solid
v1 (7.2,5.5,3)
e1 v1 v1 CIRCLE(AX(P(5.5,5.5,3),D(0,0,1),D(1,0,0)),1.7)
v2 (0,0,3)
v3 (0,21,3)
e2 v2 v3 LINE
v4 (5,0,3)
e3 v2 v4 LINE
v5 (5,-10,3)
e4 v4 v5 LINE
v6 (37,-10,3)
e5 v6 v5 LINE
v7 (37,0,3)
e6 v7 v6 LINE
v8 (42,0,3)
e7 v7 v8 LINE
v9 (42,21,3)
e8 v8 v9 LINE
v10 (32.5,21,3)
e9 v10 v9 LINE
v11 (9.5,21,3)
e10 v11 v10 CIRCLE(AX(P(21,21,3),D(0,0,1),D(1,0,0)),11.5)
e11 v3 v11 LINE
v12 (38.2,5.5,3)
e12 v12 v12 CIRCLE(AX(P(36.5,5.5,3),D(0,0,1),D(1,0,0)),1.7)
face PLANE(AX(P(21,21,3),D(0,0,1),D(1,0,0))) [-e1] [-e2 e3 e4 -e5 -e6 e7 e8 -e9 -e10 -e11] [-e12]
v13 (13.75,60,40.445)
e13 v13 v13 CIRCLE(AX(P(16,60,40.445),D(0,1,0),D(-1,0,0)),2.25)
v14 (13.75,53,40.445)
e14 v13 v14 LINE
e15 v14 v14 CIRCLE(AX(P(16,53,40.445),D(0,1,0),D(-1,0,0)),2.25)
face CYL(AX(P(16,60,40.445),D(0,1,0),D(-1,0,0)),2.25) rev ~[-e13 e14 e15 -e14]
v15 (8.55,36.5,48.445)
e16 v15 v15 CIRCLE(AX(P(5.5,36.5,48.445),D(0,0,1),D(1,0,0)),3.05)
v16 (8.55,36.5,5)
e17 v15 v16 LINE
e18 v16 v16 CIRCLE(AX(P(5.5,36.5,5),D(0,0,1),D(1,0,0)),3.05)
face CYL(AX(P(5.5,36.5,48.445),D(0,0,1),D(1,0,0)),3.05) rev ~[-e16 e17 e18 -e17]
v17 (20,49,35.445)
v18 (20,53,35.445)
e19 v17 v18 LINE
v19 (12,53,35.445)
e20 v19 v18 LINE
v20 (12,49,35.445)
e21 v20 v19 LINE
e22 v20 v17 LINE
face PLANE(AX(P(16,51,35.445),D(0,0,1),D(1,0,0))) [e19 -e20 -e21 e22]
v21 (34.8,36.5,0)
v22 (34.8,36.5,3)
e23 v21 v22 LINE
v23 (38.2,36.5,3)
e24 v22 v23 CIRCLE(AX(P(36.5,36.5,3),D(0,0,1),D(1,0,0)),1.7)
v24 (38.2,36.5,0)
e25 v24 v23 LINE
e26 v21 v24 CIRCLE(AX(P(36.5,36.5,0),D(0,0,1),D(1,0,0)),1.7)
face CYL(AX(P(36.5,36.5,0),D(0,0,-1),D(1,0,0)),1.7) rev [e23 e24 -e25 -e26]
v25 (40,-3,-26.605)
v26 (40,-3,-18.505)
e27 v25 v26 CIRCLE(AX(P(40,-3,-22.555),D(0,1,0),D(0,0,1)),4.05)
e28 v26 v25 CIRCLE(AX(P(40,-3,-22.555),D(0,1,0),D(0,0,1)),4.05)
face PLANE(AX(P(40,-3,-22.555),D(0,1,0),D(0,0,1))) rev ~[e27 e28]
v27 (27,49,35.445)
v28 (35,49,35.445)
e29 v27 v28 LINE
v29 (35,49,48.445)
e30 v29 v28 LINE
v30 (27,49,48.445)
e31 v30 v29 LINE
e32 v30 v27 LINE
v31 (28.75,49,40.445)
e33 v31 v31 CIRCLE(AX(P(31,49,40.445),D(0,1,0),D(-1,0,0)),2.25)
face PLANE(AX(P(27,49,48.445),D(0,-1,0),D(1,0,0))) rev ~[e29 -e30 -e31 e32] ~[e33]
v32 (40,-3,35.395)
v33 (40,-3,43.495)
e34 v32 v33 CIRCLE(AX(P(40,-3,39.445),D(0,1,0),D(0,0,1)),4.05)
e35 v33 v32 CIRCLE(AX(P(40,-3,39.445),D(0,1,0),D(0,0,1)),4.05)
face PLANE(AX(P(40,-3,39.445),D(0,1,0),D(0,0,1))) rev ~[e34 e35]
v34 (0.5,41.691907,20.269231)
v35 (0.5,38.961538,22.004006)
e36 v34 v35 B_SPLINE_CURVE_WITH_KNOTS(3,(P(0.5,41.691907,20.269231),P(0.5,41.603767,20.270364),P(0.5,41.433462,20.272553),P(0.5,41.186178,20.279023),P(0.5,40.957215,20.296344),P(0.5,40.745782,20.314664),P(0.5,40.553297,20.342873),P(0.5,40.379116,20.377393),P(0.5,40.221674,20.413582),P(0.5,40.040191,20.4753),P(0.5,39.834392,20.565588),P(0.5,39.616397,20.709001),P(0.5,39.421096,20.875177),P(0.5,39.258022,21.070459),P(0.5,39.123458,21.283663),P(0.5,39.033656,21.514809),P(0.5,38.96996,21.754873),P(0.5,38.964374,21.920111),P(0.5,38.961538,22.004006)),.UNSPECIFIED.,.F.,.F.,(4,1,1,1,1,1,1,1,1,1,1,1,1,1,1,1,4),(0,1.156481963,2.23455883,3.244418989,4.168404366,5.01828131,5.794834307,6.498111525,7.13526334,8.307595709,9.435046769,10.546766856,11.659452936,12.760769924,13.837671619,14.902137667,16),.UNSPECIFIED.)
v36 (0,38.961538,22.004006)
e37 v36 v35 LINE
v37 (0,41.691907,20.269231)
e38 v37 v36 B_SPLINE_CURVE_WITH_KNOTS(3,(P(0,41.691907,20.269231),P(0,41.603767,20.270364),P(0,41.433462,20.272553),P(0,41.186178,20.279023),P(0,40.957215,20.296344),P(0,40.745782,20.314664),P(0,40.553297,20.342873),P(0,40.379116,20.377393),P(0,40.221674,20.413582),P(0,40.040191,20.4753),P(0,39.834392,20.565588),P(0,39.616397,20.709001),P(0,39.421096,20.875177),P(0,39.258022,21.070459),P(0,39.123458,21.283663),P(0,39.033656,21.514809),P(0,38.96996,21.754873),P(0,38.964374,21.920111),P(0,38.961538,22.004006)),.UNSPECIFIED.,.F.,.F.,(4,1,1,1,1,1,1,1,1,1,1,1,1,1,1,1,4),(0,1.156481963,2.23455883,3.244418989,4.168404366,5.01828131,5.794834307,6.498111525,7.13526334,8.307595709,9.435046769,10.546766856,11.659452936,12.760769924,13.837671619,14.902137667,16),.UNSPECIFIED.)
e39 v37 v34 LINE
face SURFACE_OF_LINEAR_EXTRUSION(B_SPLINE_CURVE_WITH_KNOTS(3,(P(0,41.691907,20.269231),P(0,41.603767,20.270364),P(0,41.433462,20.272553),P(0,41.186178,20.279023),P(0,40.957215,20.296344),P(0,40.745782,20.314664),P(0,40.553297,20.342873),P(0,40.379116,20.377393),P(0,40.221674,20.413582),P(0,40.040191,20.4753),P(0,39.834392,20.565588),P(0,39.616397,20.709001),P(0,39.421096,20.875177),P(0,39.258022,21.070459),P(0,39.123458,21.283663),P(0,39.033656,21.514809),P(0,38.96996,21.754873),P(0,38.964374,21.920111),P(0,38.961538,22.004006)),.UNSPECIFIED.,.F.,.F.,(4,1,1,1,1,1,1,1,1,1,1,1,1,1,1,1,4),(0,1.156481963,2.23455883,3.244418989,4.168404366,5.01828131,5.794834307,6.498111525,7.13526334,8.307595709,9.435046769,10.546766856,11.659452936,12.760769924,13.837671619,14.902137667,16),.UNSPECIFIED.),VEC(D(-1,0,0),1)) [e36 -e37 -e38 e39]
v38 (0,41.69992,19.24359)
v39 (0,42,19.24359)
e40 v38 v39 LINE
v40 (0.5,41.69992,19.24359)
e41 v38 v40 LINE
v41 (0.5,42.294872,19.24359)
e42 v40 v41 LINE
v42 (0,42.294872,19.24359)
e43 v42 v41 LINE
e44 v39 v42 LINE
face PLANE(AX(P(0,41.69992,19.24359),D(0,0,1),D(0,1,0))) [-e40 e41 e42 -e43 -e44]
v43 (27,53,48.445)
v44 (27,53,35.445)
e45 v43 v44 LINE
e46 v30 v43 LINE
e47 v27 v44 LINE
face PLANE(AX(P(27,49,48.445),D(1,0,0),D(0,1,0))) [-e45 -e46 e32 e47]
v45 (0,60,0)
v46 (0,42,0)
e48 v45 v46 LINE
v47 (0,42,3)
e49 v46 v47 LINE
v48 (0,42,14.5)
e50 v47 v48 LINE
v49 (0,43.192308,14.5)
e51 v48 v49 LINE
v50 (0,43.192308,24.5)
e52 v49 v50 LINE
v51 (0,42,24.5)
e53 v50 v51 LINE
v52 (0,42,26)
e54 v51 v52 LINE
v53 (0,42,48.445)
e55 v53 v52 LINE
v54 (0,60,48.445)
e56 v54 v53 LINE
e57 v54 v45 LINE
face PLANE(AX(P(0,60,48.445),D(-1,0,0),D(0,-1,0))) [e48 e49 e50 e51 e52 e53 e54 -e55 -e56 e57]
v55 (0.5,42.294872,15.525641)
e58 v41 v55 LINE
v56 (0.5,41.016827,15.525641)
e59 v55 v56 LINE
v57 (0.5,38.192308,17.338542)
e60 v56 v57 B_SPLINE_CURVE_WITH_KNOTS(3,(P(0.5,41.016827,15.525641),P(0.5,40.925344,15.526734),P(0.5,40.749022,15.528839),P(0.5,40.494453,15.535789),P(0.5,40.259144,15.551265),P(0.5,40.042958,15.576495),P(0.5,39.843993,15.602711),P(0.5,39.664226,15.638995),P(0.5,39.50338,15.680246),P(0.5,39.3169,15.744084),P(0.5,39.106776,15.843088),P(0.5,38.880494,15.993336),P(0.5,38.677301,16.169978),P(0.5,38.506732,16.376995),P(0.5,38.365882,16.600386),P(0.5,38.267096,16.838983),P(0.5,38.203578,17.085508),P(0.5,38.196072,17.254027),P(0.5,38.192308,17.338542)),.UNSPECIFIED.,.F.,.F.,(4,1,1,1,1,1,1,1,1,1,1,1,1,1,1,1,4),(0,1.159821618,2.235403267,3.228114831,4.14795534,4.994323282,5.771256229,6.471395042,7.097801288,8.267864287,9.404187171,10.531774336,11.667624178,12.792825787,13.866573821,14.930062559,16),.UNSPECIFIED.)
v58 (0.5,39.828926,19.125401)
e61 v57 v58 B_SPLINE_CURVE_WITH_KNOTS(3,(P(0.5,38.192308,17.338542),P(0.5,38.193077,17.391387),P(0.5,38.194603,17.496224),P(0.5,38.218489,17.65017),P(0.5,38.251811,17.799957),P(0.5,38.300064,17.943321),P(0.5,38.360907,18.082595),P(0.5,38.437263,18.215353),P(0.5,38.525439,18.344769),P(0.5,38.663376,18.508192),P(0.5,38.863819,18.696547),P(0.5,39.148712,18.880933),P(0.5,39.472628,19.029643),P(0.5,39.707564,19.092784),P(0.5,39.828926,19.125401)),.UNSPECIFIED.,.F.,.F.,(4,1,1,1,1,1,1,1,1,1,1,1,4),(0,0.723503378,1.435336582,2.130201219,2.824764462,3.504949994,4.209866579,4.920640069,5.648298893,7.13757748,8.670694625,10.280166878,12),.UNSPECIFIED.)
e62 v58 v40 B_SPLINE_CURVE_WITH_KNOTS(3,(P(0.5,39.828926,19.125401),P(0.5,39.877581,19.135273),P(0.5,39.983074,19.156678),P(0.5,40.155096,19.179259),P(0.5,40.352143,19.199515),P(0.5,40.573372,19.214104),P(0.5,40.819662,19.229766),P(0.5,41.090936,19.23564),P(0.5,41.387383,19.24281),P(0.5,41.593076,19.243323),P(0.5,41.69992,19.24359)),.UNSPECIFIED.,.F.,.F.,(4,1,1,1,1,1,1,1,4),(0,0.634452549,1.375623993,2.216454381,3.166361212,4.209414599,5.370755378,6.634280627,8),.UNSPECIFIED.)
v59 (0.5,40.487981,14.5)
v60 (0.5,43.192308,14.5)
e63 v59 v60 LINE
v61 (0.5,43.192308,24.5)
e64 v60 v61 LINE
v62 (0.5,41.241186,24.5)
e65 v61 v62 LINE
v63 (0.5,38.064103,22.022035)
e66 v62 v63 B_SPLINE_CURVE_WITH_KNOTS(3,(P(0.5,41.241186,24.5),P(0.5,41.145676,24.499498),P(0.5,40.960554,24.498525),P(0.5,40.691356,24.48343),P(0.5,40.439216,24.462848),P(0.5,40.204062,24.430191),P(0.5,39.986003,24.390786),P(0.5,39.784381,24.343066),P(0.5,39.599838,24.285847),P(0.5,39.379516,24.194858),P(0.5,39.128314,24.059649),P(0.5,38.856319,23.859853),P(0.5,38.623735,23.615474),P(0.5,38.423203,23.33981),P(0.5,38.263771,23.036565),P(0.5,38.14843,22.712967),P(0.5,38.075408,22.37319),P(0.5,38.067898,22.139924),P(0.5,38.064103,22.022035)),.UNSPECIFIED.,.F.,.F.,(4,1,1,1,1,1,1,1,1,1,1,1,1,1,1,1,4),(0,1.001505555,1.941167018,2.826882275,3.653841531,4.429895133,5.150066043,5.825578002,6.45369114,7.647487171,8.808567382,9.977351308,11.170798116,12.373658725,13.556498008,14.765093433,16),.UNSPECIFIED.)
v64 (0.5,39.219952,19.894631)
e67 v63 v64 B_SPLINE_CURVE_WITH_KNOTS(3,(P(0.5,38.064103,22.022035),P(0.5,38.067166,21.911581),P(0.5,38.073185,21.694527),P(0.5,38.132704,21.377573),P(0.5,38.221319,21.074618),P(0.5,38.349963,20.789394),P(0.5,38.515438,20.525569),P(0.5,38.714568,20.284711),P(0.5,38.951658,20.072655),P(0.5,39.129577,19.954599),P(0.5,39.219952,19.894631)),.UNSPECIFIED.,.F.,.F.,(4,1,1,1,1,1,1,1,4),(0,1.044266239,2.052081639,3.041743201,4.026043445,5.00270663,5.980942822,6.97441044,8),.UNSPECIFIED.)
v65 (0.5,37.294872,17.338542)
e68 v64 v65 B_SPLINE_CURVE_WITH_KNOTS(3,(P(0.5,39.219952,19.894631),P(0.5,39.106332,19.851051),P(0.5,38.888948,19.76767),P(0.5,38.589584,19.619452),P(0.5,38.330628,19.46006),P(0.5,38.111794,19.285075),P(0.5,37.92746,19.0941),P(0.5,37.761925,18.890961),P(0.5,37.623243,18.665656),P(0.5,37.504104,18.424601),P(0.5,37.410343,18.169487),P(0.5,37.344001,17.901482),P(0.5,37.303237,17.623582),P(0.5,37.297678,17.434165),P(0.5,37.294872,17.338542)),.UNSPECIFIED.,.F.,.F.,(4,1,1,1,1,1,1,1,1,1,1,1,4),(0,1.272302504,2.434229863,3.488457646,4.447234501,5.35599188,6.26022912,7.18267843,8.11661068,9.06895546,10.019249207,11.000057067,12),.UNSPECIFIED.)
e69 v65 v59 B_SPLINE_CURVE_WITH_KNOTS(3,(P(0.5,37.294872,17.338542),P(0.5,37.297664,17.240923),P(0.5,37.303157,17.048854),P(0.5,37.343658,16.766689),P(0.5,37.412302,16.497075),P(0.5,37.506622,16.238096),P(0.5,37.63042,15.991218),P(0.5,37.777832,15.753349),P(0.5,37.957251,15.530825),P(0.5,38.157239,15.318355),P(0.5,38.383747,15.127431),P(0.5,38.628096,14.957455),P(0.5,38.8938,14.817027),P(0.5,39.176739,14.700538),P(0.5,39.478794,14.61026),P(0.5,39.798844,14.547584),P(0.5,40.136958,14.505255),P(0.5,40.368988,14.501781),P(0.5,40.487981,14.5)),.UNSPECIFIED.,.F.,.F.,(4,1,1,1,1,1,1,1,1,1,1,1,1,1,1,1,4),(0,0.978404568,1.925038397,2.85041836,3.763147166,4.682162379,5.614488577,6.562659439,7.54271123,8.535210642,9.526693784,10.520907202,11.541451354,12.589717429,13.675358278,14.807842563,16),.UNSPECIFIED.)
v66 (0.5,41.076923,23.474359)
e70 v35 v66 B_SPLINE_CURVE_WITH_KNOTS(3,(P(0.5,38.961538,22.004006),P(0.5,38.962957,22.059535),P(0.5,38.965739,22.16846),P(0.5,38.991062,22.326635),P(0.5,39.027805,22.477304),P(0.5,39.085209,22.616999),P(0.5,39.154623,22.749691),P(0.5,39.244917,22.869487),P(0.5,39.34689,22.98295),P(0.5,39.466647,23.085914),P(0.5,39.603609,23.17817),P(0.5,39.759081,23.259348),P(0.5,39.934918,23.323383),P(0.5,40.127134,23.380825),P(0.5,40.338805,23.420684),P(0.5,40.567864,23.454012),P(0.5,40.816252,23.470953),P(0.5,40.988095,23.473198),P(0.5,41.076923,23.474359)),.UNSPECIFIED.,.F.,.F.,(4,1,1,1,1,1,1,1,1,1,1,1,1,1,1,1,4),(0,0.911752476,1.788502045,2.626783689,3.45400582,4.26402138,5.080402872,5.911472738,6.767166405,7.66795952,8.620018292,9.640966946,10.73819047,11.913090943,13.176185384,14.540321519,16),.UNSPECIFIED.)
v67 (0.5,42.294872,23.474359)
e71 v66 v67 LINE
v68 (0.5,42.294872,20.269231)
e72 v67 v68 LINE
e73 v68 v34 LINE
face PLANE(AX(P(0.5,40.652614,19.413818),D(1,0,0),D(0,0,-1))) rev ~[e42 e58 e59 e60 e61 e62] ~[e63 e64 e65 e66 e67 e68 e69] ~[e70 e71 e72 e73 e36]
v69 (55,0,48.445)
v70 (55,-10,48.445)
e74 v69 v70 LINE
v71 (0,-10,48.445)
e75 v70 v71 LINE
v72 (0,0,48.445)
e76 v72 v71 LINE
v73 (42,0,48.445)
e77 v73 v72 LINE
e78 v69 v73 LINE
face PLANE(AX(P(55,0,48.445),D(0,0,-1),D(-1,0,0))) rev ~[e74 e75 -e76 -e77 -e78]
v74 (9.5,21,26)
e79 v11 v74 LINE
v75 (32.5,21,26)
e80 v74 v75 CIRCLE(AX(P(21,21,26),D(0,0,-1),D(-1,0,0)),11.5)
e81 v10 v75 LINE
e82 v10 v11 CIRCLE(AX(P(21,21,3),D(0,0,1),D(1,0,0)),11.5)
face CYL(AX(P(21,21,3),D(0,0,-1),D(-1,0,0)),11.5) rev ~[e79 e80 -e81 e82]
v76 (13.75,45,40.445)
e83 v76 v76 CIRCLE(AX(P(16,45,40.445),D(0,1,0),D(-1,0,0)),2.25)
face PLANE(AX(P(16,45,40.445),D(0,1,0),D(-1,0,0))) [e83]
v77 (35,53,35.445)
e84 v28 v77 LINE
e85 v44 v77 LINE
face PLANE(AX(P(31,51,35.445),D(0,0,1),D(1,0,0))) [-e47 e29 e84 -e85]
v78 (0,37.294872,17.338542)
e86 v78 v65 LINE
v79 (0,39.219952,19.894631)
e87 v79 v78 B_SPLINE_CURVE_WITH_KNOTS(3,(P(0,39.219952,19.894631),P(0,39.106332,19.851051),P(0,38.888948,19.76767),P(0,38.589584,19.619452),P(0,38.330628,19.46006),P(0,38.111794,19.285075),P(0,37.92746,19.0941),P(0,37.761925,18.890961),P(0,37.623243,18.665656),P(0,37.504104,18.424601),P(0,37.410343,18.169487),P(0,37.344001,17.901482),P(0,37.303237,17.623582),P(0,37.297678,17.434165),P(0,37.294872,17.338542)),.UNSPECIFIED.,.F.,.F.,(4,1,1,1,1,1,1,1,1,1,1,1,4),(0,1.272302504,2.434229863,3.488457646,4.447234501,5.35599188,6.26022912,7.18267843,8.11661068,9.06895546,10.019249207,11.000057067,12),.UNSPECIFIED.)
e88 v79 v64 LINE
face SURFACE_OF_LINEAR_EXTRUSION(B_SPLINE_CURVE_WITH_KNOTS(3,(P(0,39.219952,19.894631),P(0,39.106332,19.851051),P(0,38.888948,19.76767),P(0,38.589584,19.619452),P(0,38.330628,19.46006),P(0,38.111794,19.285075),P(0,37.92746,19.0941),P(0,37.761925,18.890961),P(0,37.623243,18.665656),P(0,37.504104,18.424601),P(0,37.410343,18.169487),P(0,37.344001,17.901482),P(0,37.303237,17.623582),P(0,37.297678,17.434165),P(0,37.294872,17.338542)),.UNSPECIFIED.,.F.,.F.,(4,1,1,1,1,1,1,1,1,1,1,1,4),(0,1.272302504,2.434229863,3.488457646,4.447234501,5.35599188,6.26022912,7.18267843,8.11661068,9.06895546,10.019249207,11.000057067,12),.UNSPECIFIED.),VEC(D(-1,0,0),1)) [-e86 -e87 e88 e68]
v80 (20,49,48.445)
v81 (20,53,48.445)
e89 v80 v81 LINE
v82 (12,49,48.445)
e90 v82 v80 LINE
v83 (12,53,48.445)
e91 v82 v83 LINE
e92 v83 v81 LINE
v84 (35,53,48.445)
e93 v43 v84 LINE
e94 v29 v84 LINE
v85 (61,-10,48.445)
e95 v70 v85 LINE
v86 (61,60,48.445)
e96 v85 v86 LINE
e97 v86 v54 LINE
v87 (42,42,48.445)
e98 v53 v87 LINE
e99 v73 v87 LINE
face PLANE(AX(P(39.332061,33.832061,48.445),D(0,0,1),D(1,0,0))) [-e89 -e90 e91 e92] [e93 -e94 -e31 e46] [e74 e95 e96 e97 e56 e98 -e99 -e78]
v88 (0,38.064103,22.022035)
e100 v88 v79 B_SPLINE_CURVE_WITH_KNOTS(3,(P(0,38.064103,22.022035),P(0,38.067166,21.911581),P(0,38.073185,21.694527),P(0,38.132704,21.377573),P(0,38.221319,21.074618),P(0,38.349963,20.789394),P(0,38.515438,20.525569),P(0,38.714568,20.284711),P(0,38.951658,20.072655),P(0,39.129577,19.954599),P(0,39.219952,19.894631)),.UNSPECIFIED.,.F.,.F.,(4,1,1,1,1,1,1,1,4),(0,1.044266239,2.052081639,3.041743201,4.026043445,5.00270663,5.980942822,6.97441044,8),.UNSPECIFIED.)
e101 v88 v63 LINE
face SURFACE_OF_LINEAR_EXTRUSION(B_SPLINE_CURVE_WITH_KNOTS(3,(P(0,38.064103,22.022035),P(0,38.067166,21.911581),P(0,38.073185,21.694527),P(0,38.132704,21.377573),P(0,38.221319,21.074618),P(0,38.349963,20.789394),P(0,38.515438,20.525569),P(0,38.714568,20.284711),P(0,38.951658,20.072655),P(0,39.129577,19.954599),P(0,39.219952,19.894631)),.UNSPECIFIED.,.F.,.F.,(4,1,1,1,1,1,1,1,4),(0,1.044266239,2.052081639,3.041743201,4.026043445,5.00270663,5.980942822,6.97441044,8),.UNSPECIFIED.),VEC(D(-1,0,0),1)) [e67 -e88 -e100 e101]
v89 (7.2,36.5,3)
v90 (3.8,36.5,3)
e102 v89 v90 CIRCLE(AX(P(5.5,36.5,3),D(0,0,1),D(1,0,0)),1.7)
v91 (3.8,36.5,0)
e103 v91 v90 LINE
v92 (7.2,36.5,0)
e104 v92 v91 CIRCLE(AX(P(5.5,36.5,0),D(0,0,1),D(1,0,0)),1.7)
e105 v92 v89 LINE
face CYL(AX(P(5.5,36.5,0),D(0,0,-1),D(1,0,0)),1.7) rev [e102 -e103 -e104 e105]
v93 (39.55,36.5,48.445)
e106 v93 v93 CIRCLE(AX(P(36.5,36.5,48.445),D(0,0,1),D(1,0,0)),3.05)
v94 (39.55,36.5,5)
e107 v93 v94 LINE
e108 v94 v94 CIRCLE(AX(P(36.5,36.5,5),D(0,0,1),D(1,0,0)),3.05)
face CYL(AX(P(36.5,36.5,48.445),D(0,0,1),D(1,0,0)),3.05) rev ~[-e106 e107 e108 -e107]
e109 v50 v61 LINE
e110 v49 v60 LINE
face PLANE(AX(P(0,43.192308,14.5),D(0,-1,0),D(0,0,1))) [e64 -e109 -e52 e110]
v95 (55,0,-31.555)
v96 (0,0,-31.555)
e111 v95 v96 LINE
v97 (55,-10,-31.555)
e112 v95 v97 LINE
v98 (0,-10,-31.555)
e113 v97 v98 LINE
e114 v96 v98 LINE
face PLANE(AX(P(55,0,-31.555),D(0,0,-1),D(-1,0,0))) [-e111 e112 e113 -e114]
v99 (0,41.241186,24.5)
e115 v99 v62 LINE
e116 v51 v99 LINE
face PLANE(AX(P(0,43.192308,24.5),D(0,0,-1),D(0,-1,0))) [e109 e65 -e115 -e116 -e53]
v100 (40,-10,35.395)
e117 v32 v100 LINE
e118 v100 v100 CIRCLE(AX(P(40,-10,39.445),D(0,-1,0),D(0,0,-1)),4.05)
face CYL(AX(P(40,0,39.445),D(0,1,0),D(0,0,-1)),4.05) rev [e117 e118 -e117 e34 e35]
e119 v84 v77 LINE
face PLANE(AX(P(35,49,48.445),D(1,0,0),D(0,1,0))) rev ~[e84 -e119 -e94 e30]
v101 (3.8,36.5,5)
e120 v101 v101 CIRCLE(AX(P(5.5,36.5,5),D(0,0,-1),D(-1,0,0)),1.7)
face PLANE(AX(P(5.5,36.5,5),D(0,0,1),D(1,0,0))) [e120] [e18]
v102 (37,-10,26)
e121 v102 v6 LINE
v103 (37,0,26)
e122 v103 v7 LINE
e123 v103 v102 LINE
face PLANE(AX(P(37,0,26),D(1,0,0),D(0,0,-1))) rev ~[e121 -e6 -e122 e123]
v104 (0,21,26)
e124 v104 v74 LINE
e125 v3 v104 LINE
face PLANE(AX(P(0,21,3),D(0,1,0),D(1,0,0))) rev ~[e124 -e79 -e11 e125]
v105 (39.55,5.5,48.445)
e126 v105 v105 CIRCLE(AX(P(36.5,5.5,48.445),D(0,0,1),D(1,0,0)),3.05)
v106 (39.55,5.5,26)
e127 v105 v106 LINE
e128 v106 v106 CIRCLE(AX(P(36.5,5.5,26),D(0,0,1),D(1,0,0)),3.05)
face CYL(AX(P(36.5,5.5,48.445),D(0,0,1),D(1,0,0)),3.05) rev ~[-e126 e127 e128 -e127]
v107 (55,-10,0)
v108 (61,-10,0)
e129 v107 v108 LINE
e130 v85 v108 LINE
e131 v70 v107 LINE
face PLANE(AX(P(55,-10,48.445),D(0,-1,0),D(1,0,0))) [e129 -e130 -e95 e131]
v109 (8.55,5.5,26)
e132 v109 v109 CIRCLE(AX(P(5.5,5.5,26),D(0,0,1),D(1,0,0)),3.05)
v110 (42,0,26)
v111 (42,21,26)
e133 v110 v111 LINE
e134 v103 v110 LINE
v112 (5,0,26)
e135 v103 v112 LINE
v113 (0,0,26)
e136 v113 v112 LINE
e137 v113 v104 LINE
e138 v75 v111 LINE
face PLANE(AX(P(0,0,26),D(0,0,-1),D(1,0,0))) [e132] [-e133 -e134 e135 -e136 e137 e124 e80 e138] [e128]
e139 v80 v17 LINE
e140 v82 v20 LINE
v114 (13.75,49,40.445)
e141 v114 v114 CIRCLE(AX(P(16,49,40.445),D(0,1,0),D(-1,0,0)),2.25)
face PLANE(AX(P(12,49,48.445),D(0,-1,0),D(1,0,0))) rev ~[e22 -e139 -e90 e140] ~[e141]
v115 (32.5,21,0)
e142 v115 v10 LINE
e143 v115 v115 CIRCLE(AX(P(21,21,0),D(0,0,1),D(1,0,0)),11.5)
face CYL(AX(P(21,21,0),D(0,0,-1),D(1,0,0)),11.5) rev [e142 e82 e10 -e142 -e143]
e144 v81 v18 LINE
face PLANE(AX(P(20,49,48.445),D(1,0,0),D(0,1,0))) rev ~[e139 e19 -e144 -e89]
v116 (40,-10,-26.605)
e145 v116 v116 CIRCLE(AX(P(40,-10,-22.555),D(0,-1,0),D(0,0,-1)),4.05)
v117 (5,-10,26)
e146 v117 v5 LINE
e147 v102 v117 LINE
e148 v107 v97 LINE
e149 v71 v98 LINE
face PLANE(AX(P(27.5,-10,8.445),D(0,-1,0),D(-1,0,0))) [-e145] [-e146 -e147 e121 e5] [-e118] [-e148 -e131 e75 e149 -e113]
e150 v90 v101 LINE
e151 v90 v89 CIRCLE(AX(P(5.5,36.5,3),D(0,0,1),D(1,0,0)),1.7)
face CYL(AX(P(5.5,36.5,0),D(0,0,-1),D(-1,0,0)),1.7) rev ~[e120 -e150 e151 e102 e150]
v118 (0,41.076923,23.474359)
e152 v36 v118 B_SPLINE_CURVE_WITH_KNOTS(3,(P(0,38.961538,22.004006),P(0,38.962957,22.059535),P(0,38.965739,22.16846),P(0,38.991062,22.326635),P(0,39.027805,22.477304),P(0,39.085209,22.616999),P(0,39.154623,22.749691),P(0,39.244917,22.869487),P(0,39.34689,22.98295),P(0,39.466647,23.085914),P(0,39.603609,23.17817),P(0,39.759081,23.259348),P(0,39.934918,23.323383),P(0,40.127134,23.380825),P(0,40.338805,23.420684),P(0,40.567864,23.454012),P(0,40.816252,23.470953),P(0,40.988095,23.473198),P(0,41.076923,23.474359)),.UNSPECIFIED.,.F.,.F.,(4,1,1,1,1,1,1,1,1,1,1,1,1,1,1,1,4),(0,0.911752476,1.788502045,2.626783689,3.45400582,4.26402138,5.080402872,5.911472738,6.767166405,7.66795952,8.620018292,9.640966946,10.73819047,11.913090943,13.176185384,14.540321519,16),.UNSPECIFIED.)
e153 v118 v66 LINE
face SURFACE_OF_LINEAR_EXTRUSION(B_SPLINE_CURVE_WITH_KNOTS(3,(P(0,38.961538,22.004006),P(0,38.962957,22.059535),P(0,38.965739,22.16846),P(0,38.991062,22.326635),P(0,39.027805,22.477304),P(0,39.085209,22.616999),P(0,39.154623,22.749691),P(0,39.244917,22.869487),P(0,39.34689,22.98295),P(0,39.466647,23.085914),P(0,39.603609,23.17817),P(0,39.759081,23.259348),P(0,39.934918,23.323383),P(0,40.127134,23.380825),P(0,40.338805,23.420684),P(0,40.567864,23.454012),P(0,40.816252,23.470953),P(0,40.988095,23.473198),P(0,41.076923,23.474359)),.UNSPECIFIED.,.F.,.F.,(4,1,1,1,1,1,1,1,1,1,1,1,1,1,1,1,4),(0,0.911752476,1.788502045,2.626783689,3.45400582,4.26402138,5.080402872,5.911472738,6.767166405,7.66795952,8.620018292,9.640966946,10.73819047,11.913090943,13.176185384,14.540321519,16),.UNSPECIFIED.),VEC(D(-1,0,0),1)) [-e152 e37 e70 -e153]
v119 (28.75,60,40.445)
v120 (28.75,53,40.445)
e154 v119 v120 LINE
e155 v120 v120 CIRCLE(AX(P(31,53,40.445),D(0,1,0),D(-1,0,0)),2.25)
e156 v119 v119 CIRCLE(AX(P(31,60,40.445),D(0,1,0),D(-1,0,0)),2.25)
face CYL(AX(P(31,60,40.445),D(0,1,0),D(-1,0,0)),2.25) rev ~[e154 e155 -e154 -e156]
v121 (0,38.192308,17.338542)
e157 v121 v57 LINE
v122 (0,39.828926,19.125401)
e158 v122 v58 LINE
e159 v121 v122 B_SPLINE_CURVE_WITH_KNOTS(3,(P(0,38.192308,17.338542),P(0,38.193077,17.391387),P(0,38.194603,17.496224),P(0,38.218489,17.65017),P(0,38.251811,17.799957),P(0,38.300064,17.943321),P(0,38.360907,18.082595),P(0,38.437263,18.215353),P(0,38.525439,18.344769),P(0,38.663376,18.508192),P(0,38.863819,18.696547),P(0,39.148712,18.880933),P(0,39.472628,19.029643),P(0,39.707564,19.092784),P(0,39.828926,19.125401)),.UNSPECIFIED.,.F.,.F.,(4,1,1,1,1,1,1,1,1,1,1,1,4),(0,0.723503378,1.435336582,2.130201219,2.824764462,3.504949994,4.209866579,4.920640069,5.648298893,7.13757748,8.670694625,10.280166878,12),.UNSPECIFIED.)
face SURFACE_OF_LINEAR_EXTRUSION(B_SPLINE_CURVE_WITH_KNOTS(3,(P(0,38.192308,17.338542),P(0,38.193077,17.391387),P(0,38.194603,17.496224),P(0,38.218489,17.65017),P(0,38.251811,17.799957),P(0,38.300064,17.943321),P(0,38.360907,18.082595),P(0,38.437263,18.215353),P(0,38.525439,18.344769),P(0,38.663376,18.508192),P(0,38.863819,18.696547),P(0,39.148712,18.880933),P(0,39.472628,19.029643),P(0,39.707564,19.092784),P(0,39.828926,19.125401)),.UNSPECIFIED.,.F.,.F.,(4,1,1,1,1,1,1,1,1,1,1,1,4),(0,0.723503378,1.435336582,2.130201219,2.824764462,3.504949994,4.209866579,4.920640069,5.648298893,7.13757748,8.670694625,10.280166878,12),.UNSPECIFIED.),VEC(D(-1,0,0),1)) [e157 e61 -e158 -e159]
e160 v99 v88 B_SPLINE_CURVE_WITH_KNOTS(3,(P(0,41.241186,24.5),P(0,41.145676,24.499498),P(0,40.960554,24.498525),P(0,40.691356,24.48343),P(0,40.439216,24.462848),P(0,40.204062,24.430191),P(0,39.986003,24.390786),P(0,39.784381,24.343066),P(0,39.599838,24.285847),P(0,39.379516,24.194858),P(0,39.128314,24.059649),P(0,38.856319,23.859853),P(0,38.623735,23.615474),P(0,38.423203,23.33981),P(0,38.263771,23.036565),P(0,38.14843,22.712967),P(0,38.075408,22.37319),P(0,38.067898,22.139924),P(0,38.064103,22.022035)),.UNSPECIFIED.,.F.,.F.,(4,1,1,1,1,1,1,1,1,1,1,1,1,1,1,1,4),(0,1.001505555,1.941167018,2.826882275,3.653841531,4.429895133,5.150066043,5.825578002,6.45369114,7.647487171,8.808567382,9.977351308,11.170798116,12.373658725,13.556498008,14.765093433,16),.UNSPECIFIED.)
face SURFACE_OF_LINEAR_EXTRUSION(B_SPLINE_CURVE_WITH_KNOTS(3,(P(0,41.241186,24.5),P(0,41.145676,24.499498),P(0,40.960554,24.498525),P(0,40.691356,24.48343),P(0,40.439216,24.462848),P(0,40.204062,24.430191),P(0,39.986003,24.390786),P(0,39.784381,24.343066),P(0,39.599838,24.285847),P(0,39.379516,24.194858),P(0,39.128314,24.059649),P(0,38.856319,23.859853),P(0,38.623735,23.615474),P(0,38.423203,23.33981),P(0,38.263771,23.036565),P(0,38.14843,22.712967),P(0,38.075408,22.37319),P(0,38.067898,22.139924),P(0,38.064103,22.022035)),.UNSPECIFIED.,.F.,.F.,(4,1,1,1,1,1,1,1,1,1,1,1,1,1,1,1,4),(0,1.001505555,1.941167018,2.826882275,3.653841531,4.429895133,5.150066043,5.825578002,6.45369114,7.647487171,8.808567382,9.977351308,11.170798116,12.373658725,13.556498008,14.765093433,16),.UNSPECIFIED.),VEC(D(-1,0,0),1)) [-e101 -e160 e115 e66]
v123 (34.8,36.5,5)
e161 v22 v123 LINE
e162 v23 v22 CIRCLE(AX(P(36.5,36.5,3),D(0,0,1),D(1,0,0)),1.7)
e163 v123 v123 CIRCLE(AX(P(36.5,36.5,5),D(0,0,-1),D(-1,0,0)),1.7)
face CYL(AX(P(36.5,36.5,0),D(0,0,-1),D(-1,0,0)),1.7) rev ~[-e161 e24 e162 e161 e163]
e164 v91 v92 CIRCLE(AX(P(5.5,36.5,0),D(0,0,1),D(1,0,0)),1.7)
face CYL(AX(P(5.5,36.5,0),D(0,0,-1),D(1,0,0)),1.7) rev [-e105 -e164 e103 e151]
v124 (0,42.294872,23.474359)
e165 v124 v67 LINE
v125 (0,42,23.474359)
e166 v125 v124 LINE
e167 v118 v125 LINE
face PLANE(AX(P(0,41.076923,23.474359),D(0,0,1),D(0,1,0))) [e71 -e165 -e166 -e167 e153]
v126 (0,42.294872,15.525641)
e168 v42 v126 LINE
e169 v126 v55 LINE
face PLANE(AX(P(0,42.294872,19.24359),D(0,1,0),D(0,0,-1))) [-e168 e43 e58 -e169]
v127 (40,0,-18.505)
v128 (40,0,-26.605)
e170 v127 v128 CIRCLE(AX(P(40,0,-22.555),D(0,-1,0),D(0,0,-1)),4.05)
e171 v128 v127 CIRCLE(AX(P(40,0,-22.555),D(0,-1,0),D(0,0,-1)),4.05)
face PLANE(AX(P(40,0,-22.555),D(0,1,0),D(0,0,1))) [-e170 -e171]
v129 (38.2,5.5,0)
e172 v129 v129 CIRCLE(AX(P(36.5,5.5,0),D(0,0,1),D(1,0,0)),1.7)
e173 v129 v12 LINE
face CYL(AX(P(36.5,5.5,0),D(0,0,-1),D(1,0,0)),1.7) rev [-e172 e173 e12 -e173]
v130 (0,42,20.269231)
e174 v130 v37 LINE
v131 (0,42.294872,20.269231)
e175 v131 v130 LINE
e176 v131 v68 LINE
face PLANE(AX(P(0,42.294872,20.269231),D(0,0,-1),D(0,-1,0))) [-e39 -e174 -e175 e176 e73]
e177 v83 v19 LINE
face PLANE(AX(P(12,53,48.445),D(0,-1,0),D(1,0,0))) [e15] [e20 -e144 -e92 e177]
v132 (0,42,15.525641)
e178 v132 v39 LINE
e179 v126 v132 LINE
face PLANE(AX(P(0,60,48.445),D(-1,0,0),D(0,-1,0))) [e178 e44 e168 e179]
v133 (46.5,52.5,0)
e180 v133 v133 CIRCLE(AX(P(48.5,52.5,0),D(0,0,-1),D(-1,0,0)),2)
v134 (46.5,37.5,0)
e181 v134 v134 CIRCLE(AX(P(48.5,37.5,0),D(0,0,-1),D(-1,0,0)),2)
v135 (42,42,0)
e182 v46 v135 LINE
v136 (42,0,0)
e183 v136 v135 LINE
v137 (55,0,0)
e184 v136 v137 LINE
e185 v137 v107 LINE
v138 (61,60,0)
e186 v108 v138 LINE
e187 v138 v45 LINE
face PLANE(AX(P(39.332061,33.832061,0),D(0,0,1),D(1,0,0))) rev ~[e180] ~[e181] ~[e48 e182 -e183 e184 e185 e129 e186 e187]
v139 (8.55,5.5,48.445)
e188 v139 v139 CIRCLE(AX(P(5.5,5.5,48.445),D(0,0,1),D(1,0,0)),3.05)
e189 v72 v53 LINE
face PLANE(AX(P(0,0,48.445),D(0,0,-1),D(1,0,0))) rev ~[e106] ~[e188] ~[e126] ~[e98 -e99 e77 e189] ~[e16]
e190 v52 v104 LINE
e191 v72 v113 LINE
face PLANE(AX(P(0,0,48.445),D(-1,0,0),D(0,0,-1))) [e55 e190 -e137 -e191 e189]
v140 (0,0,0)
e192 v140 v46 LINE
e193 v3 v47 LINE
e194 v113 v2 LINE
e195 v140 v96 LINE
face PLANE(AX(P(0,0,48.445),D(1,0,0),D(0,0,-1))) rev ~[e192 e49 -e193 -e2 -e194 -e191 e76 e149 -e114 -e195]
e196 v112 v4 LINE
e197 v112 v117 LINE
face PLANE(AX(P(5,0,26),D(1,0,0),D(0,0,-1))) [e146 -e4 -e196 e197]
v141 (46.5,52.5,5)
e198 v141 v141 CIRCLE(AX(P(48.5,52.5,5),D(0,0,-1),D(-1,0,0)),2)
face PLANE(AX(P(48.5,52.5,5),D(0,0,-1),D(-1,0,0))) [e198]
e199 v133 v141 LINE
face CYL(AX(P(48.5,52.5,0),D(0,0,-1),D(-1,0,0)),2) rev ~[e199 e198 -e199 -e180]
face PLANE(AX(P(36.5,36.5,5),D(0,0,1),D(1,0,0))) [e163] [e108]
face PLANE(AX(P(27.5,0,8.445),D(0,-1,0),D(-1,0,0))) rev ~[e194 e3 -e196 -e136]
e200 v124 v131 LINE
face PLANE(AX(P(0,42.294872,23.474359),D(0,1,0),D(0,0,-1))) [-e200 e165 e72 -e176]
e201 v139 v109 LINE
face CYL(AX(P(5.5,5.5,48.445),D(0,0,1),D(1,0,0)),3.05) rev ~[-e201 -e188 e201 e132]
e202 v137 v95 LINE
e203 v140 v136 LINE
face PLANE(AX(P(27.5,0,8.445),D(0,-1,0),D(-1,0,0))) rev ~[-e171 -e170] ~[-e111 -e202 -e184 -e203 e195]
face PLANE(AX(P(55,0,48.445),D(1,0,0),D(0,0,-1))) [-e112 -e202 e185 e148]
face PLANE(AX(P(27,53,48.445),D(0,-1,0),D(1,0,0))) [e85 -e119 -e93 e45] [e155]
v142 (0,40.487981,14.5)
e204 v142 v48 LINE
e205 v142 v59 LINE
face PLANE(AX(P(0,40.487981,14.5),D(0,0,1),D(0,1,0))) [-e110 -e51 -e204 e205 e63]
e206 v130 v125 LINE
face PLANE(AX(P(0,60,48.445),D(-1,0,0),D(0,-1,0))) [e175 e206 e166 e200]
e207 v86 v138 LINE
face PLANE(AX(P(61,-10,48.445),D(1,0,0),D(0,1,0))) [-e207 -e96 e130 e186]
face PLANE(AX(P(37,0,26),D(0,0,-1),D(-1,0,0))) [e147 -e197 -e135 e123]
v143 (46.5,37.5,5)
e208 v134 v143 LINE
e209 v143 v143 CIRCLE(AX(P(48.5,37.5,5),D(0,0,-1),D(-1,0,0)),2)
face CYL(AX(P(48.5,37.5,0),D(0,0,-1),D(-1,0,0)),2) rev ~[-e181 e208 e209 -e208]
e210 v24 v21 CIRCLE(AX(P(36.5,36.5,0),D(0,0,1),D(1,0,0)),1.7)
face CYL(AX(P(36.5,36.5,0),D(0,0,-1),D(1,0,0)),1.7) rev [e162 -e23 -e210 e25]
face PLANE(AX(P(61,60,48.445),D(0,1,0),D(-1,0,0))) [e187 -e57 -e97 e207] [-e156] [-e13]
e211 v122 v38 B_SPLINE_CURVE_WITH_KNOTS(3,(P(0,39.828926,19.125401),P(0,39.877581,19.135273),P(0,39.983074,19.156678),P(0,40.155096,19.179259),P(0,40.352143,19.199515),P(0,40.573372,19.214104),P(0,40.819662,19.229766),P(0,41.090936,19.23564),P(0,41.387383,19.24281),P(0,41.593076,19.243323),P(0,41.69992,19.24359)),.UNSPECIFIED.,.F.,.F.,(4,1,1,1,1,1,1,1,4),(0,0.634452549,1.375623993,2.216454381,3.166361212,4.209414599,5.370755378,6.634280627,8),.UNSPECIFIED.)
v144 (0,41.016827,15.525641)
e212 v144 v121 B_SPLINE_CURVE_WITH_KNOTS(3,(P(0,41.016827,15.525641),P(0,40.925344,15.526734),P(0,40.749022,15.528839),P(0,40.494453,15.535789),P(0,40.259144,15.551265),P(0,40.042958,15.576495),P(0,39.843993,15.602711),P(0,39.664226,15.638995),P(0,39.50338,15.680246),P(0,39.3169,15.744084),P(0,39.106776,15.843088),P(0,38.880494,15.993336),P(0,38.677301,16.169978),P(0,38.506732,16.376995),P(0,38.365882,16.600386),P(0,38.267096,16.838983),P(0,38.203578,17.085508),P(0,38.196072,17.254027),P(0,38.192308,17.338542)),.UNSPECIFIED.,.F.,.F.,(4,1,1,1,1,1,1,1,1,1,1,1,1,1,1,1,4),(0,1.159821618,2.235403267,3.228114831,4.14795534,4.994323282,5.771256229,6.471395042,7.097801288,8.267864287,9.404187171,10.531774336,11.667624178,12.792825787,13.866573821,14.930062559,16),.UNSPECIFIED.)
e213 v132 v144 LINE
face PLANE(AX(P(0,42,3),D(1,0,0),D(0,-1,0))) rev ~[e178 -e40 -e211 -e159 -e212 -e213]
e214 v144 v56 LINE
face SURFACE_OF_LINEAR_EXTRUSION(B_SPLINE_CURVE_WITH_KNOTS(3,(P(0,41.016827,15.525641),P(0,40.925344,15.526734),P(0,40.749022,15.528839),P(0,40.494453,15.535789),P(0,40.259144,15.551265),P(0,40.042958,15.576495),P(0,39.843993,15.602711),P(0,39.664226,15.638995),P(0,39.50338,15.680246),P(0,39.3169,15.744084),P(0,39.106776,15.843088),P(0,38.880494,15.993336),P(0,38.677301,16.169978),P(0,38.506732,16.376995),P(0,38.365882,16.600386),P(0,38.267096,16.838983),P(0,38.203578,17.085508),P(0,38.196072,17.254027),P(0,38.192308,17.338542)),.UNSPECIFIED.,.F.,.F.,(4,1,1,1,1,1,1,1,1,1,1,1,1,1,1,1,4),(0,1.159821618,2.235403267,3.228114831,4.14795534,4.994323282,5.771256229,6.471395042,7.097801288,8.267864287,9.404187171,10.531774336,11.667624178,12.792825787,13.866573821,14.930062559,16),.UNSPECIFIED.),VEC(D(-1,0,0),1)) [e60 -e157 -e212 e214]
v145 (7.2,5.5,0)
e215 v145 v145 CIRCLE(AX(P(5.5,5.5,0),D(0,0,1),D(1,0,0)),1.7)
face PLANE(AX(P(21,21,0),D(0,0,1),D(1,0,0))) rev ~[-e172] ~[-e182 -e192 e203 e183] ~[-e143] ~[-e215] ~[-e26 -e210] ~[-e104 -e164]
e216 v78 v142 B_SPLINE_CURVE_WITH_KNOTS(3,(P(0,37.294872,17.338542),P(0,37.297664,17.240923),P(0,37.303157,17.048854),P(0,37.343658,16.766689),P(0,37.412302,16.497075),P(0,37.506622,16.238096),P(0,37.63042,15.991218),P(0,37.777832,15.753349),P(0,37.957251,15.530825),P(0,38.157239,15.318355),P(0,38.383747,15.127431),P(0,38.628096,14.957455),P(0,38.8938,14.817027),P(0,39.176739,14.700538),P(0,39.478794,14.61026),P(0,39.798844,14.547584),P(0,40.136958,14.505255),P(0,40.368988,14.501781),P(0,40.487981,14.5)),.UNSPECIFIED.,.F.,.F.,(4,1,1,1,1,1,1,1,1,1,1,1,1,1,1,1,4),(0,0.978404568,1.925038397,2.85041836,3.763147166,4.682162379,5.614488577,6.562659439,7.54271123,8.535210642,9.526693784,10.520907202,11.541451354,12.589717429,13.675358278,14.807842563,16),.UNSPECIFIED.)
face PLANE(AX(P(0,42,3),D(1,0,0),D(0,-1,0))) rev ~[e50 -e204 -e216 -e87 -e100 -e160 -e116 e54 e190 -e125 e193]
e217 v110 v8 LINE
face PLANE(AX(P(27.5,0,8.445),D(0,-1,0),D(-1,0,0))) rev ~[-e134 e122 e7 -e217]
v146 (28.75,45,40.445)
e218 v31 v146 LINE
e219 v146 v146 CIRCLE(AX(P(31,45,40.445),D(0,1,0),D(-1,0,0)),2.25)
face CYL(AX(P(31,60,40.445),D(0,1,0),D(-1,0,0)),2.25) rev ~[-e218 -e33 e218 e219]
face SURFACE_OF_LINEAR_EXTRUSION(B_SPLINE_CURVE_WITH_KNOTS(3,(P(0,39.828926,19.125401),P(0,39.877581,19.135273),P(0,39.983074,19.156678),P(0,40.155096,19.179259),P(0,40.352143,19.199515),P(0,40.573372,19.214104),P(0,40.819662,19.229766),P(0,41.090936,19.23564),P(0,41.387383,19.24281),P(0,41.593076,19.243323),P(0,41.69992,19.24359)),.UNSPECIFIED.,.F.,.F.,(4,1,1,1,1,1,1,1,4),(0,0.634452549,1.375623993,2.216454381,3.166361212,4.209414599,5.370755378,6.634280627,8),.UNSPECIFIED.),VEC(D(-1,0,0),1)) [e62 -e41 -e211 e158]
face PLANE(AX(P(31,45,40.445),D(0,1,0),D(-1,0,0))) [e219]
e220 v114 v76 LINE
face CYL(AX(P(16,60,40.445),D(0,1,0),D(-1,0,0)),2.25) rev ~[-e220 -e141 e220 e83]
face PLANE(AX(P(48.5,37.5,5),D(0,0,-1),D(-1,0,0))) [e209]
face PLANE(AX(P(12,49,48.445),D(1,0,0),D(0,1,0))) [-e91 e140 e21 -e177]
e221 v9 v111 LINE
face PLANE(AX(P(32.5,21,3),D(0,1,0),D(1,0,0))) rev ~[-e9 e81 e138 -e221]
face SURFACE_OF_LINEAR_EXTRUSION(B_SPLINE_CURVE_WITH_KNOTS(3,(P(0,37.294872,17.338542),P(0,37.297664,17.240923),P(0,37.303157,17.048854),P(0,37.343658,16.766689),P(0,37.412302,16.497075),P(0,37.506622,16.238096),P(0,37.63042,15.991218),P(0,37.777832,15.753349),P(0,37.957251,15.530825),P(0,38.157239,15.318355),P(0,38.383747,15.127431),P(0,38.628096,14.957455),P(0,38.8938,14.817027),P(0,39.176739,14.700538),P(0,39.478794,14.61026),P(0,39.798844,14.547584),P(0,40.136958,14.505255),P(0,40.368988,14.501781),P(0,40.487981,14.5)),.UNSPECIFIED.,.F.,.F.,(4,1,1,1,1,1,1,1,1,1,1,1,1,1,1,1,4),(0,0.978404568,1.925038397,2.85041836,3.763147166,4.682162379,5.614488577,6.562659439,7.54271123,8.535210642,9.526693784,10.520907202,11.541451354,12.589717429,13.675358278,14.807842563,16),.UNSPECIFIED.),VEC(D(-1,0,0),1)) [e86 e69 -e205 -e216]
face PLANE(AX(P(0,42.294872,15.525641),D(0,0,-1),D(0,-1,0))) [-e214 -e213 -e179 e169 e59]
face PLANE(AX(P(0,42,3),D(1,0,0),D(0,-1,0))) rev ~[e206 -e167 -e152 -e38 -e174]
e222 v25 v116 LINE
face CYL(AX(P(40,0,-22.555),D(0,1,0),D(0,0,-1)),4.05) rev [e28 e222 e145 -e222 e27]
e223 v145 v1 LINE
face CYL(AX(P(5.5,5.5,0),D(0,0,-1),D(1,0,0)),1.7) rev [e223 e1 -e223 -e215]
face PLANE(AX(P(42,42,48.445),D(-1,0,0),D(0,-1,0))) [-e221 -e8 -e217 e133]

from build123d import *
from build123d.topology import SkipClean

# Parameters (mm, degrees)
SKETCH1_W           = 42
SKETCH1_H           = 42
SKETCH1_R           = 11.5
SKETCH1_R_2         = 1.7
BOSS_EXTRUDE1_DEPTH = 3
SKETCH2_W           = 55
SKETCH2_H           = 80
SKETCH2_R           = 4.05
SKETCH2_W_2         = 32
SKETCH2_H_2         = 23
BOSS_EXTRUDE2_DEPTH = 10
BOSS_EXTRUDE3_DEPTH = 23
SKETCH4_R           = 4.05
BOSS_EXTRUDE4_DEPTH = 3
SKETCH5_W           = 42
SKETCH5_H           = 22.445
BOSS_EXTRUDE5_DEPTH = 42
SKETCH6_R           = 1.7
CUT_EXTRUDE1_DEPTH  = 85.474363123
SKETCH7_R           = 3.05
CUT_EXTRUDE2_DEPTH  = 43.445
BOSS_EXTRUDE6_DEPTH = 48.445
SKETCH9_R           = 2
CUT_EXTRUDE3_DEPTH  = 5
SKETCH10_R          = 2.25
CUT_EXTRUDE4_DEPTH  = 15
SKETCH11_W          = 8
SKETCH11_H          = 4
CUT_EXTRUDE5_DEPTH  = 13
CUT_EXTRUDE6_DEPTH  = 0.5


with BuildPart() as part:
    # Sketch1 → Boss-Extrude1 (new body)
    with BuildSketch(Plane.XY):
        with Locations((21, 21)):
            Rectangle(SKETCH1_W, SKETCH1_H)
        with Locations((21, 21)):
            Circle(SKETCH1_R, mode=Mode.SUBTRACT)
        with Locations((5.5, 36.5)):
            Circle(SKETCH1_R_2, mode=Mode.SUBTRACT)
        with Locations((36.5, 36.5)):
            Circle(SKETCH1_R_2, mode=Mode.SUBTRACT)
        with Locations((5.5, 5.5)):
            Circle(SKETCH1_R_2, mode=Mode.SUBTRACT)
        with Locations((36.5, 5.5)):
            Circle(SKETCH1_R_2, mode=Mode.SUBTRACT)
    extrude(amount=BOSS_EXTRUDE1_DEPTH)

    # Sketch2 → Boss-Extrude2 (add)
    with BuildSketch(Plane(origin=(0, 0, 0), x_dir=(-1, 0, 0), z_dir=(0, -1, 0))):
        with Locations((-27.5, -8.445)):
            Rectangle(SKETCH2_W, SKETCH2_H)
        with Locations(Location((-40, 22.555, 0), (0, 0, 90))):
            Circle(SKETCH2_R, mode=Mode.SUBTRACT)
        with Locations(Location((-40, -39.445, 0), (0, 0, 90))):
            Circle(SKETCH2_R, mode=Mode.SUBTRACT)
        with Locations((-21, -14.5)):
            Rectangle(SKETCH2_W_2, SKETCH2_H_2, mode=Mode.SUBTRACT)
    extrude(amount=BOSS_EXTRUDE2_DEPTH)

    # Sketch3 → Boss-Extrude3 (add)
    with SkipClean():  # the faces are left unmerged after this step: merging them gives an invalid solid
        with BuildSketch(Plane.XY.offset(3)):
            with BuildLine():
                Line((0, 21), (9.5, 21))
                ThreePointArc((9.5, 21), (21, 32.5), (32.5, 21))
                Line((32.5, 21), (42, 21))
                Line((42, 21), (42, 42))
                Line((42, 42), (0, 42))
                Line((0, 42), (0, 21))
            make_face()
        extrude(amount=BOSS_EXTRUDE3_DEPTH)

    # Sketch4 → Boss-Extrude4 (add)
    with SkipClean():  # the faces are left unmerged after this step: merging them gives an invalid solid
        with BuildSketch(Plane(origin=(0, 0, 0), x_dir=(1, 0, 0), z_dir=(0, 1, 0))):
            with Locations(Location((40, 22.555, 0), (0, 0, 270))):
                Circle(SKETCH4_R)
            with Locations(Location((40, -39.445, 0), (0, 0, 270))):
                Circle(SKETCH4_R)
        extrude(amount=-BOSS_EXTRUDE4_DEPTH)

    # Sketch5 → Boss-Extrude5 (add)
    with SkipClean():  # the faces are left unmerged after this step: merging them gives an invalid solid
        with BuildSketch(Plane(origin=(0, 0, 0), x_dir=(1, 0, 0), z_dir=(0, 1, 0))):
            with Locations((21, -37.2225)):
                Rectangle(SKETCH5_W, SKETCH5_H)
        extrude(amount=BOSS_EXTRUDE5_DEPTH)

    # Sketch6 → Cut-Extrude1 (cut, through all)
    with SkipClean():  # the faces are left unmerged after this step: merging them gives an invalid solid
        with BuildSketch(Plane(origin=(0, 0, 0), x_dir=(-1, 0, 0), z_dir=(0, 0, -1))):
            with Locations((-5.5, 36.5)):
                Circle(SKETCH6_R)
            with Locations((-36.5, 36.5)):
                Circle(SKETCH6_R)
        extrude(amount=-CUT_EXTRUDE1_DEPTH, mode=Mode.SUBTRACT)

    # Sketch7 → Cut-Extrude2 (cut)
    with SkipClean():  # the faces are left unmerged after this step: merging them gives an invalid solid
        with BuildSketch(Plane.XY.offset(48.445)):
            with Locations((5.5, 36.5)):
                Circle(SKETCH7_R)
            with Locations((36.5, 36.5)):
                Circle(SKETCH7_R)
            with Locations((5.5, 5.5)):
                Circle(SKETCH7_R)
            with Locations((36.5, 5.5)):
                Circle(SKETCH7_R)
        extrude(amount=-CUT_EXTRUDE2_DEPTH, mode=Mode.SUBTRACT)

    # Sketch8 → Boss-Extrude6 (add)
    with SkipClean():  # the faces are left unmerged after this step: merging them gives an invalid solid
        with BuildSketch(Plane.XY.offset(48.445)):
            Polygon((55, -10), (60.999999938, -10), (60.999999938, 60), (0, 60), (0, 42), (42, 42), (42, 0), (55, 0), align=None)
        extrude(amount=-BOSS_EXTRUDE6_DEPTH)

    # Sketch9 → Cut-Extrude3 (cut)
    with SkipClean():  # the faces are left unmerged after this step: merging them gives an invalid solid
        with BuildSketch(Plane(origin=(0, 0, 0), x_dir=(-1, 0, 0), z_dir=(0, 0, -1))):
            with Locations((-48.5, 52.5)):
                Circle(SKETCH9_R)
            with Locations((-48.5, 37.5)):
                Circle(SKETCH9_R)
        extrude(amount=-CUT_EXTRUDE3_DEPTH, mode=Mode.SUBTRACT)

    # Sketch10 → Cut-Extrude4 (cut)
    with SkipClean():  # the faces are left unmerged after this step: merging them gives an invalid solid
        with BuildSketch(Plane(origin=(0, 60, 0), x_dir=(1, 0, 0), z_dir=(0, 1, 0))):
            with Locations(Location((30.999999938, -40.445, 0), (0, 0, 180))):
                Circle(SKETCH10_R)
            with Locations(Location((15.999999938, -40.445, 0), (0, 0, 180))):
                Circle(SKETCH10_R)
        extrude(amount=-CUT_EXTRUDE4_DEPTH, mode=Mode.SUBTRACT)

    # Sketch11 → Cut-Extrude5 (cut)
    with SkipClean():  # the faces are left unmerged after this step: merging them gives an invalid solid
        with BuildSketch(Plane.XY.offset(48.445)):
            with Locations((15.999999938, 51)):
                Rectangle(SKETCH11_W, SKETCH11_H)
            with Locations((30.999999938, 51)):
                Rectangle(SKETCH11_W, SKETCH11_H)
        extrude(amount=-CUT_EXTRUDE5_DEPTH, mode=Mode.SUBTRACT)

    # Sketch12 → Cut-Extrude6 (cut)
    with SkipClean():  # the faces are left unmerged after this step: merging them gives an invalid solid
        with BuildSketch(Plane.ZY):
            with BuildLine():
                Line((24.5, 43.192307692), (24.5, 41.241185897))
                add(Edge.make_bspline(
                    [(24.5, 41.241185897), (24.499497856, 41.14567596), (24.498524576, 40.96055393), (24.483429916, 40.691355525), (24.462848002, 40.439216066), (24.430190594, 40.204062431), (24.390785516, 39.986003281), (24.343066042, 39.78438146), (24.285847146, 39.599838111), (24.194857771, 39.379516007), (24.059648718, 39.128314119), (23.859852818, 38.856318711), (23.615474352, 38.62373517), (23.339809622, 38.423202835), (23.03656456, 38.263771065), (22.712966878, 38.148430215), (22.373190472, 38.075407714), (22.13992425, 38.067897902), (22.022035256, 38.064102564)],
                    knots=[0, 0, 0, 0, 1.001505555, 1.941167018, 2.826882275, 3.653841531, 4.429895133, 5.150066043, 5.825578002, 6.45369114, 7.647487171, 8.808567382, 9.977351308, 11.170798116, 12.373658725, 13.556498008, 14.765093433, 16, 16, 16, 16], degree=3))
                add(Edge.make_bspline(
                    [(22.022035256, 38.064102564), (21.911580671, 38.067165678), (21.694526995, 38.073184985), (21.37757337, 38.132703991), (21.074617509, 38.221319302), (20.789394232, 38.34996255), (20.525569276, 38.515437577), (20.284710542, 38.714567672), (20.072655039, 38.951658082), (19.954598688, 39.129577116), (19.89463141, 39.219951923)],
                    knots=[0, 0, 0, 0, 1.044266239, 2.052081639, 3.041743201, 4.026043445, 5.00270663, 5.980942822, 6.97441044, 8, 8, 8, 8], degree=3))
                add(Edge.make_bspline(
                    [(19.89463141, 39.219951923), (19.851050785, 39.106331676), (19.767670252, 38.888947997), (19.619452339, 38.589584241), (19.460060141, 38.330627947), (19.285074589, 38.111794083), (19.094100092, 37.927460417), (18.890960811, 37.761924959), (18.665655913, 37.62324336), (18.4246008, 37.504104176), (18.169487316, 37.410342887), (17.901482193, 37.344000623), (17.623582213, 37.303236531), (17.434165137, 37.29767794), (17.338541667, 37.294871795)],
                    knots=[0, 0, 0, 0, 1.272302504, 2.434229863, 3.488457646, 4.447234501, 5.35599188, 6.26022912, 7.18267843, 8.11661068, 9.06895546, 10.019249207, 11.000057067, 12, 12, 12, 12], degree=3))
                add(Edge.make_bspline(
                    [(17.338541667, 37.294871795), (17.240922586, 37.297663659), (17.048854309, 37.303156731), (16.766688875, 37.343658425), (16.497075227, 37.412301854), (16.238096372, 37.506621674), (15.991218221, 37.63042034), (15.753348832, 37.777832291), (15.530824885, 37.957251317), (15.318354516, 38.15723922), (15.127430595, 38.383747032), (14.957455291, 38.628095775), (14.817026751, 38.893799988), (14.700537846, 39.1767393), (14.610259539, 39.478793853), (14.547584152, 39.798843701), (14.505255067, 40.136958394), (14.501781412, 40.368987925), (14.5, 40.487980769)],
                    knots=[0, 0, 0, 0, 0.978404568, 1.925038397, 2.85041836, 3.763147166, 4.682162379, 5.614488577, 6.562659439, 7.54271123, 8.535210642, 9.526693784, 10.520907202, 11.541451354, 12.589717429, 13.675358278, 14.807842563, 16, 16, 16, 16], degree=3))
                Line((14.5, 40.487980769), (14.5, 43.192307692))
                Line((14.5, 43.192307692), (24.5, 43.192307692))
            make_face()
            with BuildLine():
                Line((23.474358974, 42.294871795), (20.269230769, 42.294871795))
                Line((20.269230769, 42.294871795), (20.269230769, 41.691907051))
                add(Edge.make_bspline(
                    [(20.269230769, 41.691907051), (20.270363898, 41.603766842), (20.272553333, 41.433461997), (20.2790227, 41.186178308), (20.29634395, 40.95721454), (20.31466403, 40.745781725), (20.342873204, 40.553296978), (20.377393307, 40.379115913), (20.413582311, 40.221673836), (20.475300035, 40.04019107), (20.565587551, 39.834392018), (20.709001208, 39.616396837), (20.875177169, 39.421096083), (21.070458782, 39.258022414), (21.283663042, 39.123458133), (21.514808955, 39.033655771), (21.75487266, 38.969960136), (21.920111147, 38.964374443), (22.00400641, 38.961538462)],
                    knots=[0, 0, 0, 0, 1.156481963, 2.23455883, 3.244418989, 4.168404366, 5.01828131, 5.794834307, 6.498111525, 7.13526334, 8.307595709, 9.435046769, 10.546766856, 11.659452936, 12.760769924, 13.837671619, 14.902137667, 16, 16, 16, 16], degree=3))
                add(Edge.make_bspline(
                    [(22.00400641, 38.961538462), (22.059534755, 38.962956855), (22.168459668, 38.965739189), (22.326635475, 38.991061732), (22.477303511, 39.02780499), (22.616998516, 39.085209167), (22.74969102, 39.154622683), (22.869487262, 39.24491707), (22.982950393, 39.346890049), (23.085914329, 39.466647387), (23.178170419, 39.603609212), (23.259347686, 39.759080518), (23.323382636, 39.934917714), (23.380825395, 40.127133888), (23.420684409, 40.338805291), (23.454011853, 40.567863604), (23.470953116, 40.816251999), (23.473198366, 40.988094648), (23.474358974, 41.076923077)],
                    knots=[0, 0, 0, 0, 0.911752476, 1.788502045, 2.626783689, 3.45400582, 4.26402138, 5.080402872, 5.911472738, 6.767166405, 7.66795952, 8.620018292, 9.640966946, 10.73819047, 11.913090943, 13.176185384, 14.540321519, 16, 16, 16, 16], degree=3))
                Line((23.474358974, 41.076923077), (23.474358974, 42.294871795))
            make_face(mode=Mode.SUBTRACT)
            with BuildLine():
                Line((19.243589744, 42.294871795), (15.525641026, 42.294871795))
                Line((15.525641026, 42.294871795), (15.525641026, 41.016826923))
                add(Edge.make_bspline(
                    [(15.525641026, 41.016826923), (15.526733617, 40.925343824), (15.528839444, 40.749022211), (15.535789141, 40.494453305), (15.551265082, 40.259143682), (15.576494995, 40.042957937), (15.602711072, 39.843993047), (15.638995391, 39.664225732), (15.680246274, 39.503380395), (15.74408397, 39.31689985), (15.843087679, 39.106775948), (15.993336404, 38.880493661), (16.169977604, 38.677301457), (16.376994582, 38.506731778), (16.600385956, 38.365882025), (16.838983313, 38.267095876), (17.08550776, 38.203577797), (17.254027237, 38.196071956), (17.338541667, 38.192307692)],
                    knots=[0, 0, 0, 0, 1.159821618, 2.235403267, 3.228114831, 4.14795534, 4.994323282, 5.771256229, 6.471395042, 7.097801288, 8.267864287, 9.404187171, 10.531774336, 11.667624178, 12.792825787, 13.866573821, 14.930062559, 16, 16, 16, 16], degree=3))
                add(Edge.make_bspline(
                    [(17.338541667, 38.192307692), (17.391386618, 38.193077096), (17.496224128, 38.194603493), (17.650169664, 38.218489039), (17.799957065, 38.251810934), (17.943321327, 38.300063903), (18.082595293, 38.360906985), (18.215353028, 38.437262746), (18.344768819, 38.525439183), (18.508191635, 38.663376267), (18.696546566, 38.863818811), (18.880932539, 39.148711644), (19.029642505, 39.472627884), (19.092783589, 39.707564234), (19.125400641, 39.828926282)],
                    knots=[0, 0, 0, 0, 0.723503378, 1.435336582, 2.130201219, 2.824764462, 3.504949994, 4.209866579, 4.920640069, 5.648298893, 7.13757748, 8.670694625, 10.280166878, 12, 12, 12, 12], degree=3))
                add(Edge.make_bspline(
                    [(19.125400641, 39.828926282), (19.135272973, 39.877580796), (19.156678225, 39.983073819), (19.179258903, 40.155096351), (19.199514507, 40.352143074), (19.2141042, 40.573371777), (19.229765981, 40.819662313), (19.235640104, 41.09093556), (19.242809782, 41.387383297), (19.243323106, 41.593076042), (19.243589744, 41.699919872)],
                    knots=[0, 0, 0, 0, 0.634452549, 1.375623993, 2.216454381, 3.166361212, 4.209414599, 5.370755378, 6.634280627, 8, 8, 8, 8], degree=3))
                Line((19.243589744, 41.699919872), (19.243589744, 42.294871795))
            make_face(mode=Mode.SUBTRACT)
        extrude(amount=-CUT_EXTRUDE6_DEPTH, mode=Mode.SUBTRACT)


solid = part.part
